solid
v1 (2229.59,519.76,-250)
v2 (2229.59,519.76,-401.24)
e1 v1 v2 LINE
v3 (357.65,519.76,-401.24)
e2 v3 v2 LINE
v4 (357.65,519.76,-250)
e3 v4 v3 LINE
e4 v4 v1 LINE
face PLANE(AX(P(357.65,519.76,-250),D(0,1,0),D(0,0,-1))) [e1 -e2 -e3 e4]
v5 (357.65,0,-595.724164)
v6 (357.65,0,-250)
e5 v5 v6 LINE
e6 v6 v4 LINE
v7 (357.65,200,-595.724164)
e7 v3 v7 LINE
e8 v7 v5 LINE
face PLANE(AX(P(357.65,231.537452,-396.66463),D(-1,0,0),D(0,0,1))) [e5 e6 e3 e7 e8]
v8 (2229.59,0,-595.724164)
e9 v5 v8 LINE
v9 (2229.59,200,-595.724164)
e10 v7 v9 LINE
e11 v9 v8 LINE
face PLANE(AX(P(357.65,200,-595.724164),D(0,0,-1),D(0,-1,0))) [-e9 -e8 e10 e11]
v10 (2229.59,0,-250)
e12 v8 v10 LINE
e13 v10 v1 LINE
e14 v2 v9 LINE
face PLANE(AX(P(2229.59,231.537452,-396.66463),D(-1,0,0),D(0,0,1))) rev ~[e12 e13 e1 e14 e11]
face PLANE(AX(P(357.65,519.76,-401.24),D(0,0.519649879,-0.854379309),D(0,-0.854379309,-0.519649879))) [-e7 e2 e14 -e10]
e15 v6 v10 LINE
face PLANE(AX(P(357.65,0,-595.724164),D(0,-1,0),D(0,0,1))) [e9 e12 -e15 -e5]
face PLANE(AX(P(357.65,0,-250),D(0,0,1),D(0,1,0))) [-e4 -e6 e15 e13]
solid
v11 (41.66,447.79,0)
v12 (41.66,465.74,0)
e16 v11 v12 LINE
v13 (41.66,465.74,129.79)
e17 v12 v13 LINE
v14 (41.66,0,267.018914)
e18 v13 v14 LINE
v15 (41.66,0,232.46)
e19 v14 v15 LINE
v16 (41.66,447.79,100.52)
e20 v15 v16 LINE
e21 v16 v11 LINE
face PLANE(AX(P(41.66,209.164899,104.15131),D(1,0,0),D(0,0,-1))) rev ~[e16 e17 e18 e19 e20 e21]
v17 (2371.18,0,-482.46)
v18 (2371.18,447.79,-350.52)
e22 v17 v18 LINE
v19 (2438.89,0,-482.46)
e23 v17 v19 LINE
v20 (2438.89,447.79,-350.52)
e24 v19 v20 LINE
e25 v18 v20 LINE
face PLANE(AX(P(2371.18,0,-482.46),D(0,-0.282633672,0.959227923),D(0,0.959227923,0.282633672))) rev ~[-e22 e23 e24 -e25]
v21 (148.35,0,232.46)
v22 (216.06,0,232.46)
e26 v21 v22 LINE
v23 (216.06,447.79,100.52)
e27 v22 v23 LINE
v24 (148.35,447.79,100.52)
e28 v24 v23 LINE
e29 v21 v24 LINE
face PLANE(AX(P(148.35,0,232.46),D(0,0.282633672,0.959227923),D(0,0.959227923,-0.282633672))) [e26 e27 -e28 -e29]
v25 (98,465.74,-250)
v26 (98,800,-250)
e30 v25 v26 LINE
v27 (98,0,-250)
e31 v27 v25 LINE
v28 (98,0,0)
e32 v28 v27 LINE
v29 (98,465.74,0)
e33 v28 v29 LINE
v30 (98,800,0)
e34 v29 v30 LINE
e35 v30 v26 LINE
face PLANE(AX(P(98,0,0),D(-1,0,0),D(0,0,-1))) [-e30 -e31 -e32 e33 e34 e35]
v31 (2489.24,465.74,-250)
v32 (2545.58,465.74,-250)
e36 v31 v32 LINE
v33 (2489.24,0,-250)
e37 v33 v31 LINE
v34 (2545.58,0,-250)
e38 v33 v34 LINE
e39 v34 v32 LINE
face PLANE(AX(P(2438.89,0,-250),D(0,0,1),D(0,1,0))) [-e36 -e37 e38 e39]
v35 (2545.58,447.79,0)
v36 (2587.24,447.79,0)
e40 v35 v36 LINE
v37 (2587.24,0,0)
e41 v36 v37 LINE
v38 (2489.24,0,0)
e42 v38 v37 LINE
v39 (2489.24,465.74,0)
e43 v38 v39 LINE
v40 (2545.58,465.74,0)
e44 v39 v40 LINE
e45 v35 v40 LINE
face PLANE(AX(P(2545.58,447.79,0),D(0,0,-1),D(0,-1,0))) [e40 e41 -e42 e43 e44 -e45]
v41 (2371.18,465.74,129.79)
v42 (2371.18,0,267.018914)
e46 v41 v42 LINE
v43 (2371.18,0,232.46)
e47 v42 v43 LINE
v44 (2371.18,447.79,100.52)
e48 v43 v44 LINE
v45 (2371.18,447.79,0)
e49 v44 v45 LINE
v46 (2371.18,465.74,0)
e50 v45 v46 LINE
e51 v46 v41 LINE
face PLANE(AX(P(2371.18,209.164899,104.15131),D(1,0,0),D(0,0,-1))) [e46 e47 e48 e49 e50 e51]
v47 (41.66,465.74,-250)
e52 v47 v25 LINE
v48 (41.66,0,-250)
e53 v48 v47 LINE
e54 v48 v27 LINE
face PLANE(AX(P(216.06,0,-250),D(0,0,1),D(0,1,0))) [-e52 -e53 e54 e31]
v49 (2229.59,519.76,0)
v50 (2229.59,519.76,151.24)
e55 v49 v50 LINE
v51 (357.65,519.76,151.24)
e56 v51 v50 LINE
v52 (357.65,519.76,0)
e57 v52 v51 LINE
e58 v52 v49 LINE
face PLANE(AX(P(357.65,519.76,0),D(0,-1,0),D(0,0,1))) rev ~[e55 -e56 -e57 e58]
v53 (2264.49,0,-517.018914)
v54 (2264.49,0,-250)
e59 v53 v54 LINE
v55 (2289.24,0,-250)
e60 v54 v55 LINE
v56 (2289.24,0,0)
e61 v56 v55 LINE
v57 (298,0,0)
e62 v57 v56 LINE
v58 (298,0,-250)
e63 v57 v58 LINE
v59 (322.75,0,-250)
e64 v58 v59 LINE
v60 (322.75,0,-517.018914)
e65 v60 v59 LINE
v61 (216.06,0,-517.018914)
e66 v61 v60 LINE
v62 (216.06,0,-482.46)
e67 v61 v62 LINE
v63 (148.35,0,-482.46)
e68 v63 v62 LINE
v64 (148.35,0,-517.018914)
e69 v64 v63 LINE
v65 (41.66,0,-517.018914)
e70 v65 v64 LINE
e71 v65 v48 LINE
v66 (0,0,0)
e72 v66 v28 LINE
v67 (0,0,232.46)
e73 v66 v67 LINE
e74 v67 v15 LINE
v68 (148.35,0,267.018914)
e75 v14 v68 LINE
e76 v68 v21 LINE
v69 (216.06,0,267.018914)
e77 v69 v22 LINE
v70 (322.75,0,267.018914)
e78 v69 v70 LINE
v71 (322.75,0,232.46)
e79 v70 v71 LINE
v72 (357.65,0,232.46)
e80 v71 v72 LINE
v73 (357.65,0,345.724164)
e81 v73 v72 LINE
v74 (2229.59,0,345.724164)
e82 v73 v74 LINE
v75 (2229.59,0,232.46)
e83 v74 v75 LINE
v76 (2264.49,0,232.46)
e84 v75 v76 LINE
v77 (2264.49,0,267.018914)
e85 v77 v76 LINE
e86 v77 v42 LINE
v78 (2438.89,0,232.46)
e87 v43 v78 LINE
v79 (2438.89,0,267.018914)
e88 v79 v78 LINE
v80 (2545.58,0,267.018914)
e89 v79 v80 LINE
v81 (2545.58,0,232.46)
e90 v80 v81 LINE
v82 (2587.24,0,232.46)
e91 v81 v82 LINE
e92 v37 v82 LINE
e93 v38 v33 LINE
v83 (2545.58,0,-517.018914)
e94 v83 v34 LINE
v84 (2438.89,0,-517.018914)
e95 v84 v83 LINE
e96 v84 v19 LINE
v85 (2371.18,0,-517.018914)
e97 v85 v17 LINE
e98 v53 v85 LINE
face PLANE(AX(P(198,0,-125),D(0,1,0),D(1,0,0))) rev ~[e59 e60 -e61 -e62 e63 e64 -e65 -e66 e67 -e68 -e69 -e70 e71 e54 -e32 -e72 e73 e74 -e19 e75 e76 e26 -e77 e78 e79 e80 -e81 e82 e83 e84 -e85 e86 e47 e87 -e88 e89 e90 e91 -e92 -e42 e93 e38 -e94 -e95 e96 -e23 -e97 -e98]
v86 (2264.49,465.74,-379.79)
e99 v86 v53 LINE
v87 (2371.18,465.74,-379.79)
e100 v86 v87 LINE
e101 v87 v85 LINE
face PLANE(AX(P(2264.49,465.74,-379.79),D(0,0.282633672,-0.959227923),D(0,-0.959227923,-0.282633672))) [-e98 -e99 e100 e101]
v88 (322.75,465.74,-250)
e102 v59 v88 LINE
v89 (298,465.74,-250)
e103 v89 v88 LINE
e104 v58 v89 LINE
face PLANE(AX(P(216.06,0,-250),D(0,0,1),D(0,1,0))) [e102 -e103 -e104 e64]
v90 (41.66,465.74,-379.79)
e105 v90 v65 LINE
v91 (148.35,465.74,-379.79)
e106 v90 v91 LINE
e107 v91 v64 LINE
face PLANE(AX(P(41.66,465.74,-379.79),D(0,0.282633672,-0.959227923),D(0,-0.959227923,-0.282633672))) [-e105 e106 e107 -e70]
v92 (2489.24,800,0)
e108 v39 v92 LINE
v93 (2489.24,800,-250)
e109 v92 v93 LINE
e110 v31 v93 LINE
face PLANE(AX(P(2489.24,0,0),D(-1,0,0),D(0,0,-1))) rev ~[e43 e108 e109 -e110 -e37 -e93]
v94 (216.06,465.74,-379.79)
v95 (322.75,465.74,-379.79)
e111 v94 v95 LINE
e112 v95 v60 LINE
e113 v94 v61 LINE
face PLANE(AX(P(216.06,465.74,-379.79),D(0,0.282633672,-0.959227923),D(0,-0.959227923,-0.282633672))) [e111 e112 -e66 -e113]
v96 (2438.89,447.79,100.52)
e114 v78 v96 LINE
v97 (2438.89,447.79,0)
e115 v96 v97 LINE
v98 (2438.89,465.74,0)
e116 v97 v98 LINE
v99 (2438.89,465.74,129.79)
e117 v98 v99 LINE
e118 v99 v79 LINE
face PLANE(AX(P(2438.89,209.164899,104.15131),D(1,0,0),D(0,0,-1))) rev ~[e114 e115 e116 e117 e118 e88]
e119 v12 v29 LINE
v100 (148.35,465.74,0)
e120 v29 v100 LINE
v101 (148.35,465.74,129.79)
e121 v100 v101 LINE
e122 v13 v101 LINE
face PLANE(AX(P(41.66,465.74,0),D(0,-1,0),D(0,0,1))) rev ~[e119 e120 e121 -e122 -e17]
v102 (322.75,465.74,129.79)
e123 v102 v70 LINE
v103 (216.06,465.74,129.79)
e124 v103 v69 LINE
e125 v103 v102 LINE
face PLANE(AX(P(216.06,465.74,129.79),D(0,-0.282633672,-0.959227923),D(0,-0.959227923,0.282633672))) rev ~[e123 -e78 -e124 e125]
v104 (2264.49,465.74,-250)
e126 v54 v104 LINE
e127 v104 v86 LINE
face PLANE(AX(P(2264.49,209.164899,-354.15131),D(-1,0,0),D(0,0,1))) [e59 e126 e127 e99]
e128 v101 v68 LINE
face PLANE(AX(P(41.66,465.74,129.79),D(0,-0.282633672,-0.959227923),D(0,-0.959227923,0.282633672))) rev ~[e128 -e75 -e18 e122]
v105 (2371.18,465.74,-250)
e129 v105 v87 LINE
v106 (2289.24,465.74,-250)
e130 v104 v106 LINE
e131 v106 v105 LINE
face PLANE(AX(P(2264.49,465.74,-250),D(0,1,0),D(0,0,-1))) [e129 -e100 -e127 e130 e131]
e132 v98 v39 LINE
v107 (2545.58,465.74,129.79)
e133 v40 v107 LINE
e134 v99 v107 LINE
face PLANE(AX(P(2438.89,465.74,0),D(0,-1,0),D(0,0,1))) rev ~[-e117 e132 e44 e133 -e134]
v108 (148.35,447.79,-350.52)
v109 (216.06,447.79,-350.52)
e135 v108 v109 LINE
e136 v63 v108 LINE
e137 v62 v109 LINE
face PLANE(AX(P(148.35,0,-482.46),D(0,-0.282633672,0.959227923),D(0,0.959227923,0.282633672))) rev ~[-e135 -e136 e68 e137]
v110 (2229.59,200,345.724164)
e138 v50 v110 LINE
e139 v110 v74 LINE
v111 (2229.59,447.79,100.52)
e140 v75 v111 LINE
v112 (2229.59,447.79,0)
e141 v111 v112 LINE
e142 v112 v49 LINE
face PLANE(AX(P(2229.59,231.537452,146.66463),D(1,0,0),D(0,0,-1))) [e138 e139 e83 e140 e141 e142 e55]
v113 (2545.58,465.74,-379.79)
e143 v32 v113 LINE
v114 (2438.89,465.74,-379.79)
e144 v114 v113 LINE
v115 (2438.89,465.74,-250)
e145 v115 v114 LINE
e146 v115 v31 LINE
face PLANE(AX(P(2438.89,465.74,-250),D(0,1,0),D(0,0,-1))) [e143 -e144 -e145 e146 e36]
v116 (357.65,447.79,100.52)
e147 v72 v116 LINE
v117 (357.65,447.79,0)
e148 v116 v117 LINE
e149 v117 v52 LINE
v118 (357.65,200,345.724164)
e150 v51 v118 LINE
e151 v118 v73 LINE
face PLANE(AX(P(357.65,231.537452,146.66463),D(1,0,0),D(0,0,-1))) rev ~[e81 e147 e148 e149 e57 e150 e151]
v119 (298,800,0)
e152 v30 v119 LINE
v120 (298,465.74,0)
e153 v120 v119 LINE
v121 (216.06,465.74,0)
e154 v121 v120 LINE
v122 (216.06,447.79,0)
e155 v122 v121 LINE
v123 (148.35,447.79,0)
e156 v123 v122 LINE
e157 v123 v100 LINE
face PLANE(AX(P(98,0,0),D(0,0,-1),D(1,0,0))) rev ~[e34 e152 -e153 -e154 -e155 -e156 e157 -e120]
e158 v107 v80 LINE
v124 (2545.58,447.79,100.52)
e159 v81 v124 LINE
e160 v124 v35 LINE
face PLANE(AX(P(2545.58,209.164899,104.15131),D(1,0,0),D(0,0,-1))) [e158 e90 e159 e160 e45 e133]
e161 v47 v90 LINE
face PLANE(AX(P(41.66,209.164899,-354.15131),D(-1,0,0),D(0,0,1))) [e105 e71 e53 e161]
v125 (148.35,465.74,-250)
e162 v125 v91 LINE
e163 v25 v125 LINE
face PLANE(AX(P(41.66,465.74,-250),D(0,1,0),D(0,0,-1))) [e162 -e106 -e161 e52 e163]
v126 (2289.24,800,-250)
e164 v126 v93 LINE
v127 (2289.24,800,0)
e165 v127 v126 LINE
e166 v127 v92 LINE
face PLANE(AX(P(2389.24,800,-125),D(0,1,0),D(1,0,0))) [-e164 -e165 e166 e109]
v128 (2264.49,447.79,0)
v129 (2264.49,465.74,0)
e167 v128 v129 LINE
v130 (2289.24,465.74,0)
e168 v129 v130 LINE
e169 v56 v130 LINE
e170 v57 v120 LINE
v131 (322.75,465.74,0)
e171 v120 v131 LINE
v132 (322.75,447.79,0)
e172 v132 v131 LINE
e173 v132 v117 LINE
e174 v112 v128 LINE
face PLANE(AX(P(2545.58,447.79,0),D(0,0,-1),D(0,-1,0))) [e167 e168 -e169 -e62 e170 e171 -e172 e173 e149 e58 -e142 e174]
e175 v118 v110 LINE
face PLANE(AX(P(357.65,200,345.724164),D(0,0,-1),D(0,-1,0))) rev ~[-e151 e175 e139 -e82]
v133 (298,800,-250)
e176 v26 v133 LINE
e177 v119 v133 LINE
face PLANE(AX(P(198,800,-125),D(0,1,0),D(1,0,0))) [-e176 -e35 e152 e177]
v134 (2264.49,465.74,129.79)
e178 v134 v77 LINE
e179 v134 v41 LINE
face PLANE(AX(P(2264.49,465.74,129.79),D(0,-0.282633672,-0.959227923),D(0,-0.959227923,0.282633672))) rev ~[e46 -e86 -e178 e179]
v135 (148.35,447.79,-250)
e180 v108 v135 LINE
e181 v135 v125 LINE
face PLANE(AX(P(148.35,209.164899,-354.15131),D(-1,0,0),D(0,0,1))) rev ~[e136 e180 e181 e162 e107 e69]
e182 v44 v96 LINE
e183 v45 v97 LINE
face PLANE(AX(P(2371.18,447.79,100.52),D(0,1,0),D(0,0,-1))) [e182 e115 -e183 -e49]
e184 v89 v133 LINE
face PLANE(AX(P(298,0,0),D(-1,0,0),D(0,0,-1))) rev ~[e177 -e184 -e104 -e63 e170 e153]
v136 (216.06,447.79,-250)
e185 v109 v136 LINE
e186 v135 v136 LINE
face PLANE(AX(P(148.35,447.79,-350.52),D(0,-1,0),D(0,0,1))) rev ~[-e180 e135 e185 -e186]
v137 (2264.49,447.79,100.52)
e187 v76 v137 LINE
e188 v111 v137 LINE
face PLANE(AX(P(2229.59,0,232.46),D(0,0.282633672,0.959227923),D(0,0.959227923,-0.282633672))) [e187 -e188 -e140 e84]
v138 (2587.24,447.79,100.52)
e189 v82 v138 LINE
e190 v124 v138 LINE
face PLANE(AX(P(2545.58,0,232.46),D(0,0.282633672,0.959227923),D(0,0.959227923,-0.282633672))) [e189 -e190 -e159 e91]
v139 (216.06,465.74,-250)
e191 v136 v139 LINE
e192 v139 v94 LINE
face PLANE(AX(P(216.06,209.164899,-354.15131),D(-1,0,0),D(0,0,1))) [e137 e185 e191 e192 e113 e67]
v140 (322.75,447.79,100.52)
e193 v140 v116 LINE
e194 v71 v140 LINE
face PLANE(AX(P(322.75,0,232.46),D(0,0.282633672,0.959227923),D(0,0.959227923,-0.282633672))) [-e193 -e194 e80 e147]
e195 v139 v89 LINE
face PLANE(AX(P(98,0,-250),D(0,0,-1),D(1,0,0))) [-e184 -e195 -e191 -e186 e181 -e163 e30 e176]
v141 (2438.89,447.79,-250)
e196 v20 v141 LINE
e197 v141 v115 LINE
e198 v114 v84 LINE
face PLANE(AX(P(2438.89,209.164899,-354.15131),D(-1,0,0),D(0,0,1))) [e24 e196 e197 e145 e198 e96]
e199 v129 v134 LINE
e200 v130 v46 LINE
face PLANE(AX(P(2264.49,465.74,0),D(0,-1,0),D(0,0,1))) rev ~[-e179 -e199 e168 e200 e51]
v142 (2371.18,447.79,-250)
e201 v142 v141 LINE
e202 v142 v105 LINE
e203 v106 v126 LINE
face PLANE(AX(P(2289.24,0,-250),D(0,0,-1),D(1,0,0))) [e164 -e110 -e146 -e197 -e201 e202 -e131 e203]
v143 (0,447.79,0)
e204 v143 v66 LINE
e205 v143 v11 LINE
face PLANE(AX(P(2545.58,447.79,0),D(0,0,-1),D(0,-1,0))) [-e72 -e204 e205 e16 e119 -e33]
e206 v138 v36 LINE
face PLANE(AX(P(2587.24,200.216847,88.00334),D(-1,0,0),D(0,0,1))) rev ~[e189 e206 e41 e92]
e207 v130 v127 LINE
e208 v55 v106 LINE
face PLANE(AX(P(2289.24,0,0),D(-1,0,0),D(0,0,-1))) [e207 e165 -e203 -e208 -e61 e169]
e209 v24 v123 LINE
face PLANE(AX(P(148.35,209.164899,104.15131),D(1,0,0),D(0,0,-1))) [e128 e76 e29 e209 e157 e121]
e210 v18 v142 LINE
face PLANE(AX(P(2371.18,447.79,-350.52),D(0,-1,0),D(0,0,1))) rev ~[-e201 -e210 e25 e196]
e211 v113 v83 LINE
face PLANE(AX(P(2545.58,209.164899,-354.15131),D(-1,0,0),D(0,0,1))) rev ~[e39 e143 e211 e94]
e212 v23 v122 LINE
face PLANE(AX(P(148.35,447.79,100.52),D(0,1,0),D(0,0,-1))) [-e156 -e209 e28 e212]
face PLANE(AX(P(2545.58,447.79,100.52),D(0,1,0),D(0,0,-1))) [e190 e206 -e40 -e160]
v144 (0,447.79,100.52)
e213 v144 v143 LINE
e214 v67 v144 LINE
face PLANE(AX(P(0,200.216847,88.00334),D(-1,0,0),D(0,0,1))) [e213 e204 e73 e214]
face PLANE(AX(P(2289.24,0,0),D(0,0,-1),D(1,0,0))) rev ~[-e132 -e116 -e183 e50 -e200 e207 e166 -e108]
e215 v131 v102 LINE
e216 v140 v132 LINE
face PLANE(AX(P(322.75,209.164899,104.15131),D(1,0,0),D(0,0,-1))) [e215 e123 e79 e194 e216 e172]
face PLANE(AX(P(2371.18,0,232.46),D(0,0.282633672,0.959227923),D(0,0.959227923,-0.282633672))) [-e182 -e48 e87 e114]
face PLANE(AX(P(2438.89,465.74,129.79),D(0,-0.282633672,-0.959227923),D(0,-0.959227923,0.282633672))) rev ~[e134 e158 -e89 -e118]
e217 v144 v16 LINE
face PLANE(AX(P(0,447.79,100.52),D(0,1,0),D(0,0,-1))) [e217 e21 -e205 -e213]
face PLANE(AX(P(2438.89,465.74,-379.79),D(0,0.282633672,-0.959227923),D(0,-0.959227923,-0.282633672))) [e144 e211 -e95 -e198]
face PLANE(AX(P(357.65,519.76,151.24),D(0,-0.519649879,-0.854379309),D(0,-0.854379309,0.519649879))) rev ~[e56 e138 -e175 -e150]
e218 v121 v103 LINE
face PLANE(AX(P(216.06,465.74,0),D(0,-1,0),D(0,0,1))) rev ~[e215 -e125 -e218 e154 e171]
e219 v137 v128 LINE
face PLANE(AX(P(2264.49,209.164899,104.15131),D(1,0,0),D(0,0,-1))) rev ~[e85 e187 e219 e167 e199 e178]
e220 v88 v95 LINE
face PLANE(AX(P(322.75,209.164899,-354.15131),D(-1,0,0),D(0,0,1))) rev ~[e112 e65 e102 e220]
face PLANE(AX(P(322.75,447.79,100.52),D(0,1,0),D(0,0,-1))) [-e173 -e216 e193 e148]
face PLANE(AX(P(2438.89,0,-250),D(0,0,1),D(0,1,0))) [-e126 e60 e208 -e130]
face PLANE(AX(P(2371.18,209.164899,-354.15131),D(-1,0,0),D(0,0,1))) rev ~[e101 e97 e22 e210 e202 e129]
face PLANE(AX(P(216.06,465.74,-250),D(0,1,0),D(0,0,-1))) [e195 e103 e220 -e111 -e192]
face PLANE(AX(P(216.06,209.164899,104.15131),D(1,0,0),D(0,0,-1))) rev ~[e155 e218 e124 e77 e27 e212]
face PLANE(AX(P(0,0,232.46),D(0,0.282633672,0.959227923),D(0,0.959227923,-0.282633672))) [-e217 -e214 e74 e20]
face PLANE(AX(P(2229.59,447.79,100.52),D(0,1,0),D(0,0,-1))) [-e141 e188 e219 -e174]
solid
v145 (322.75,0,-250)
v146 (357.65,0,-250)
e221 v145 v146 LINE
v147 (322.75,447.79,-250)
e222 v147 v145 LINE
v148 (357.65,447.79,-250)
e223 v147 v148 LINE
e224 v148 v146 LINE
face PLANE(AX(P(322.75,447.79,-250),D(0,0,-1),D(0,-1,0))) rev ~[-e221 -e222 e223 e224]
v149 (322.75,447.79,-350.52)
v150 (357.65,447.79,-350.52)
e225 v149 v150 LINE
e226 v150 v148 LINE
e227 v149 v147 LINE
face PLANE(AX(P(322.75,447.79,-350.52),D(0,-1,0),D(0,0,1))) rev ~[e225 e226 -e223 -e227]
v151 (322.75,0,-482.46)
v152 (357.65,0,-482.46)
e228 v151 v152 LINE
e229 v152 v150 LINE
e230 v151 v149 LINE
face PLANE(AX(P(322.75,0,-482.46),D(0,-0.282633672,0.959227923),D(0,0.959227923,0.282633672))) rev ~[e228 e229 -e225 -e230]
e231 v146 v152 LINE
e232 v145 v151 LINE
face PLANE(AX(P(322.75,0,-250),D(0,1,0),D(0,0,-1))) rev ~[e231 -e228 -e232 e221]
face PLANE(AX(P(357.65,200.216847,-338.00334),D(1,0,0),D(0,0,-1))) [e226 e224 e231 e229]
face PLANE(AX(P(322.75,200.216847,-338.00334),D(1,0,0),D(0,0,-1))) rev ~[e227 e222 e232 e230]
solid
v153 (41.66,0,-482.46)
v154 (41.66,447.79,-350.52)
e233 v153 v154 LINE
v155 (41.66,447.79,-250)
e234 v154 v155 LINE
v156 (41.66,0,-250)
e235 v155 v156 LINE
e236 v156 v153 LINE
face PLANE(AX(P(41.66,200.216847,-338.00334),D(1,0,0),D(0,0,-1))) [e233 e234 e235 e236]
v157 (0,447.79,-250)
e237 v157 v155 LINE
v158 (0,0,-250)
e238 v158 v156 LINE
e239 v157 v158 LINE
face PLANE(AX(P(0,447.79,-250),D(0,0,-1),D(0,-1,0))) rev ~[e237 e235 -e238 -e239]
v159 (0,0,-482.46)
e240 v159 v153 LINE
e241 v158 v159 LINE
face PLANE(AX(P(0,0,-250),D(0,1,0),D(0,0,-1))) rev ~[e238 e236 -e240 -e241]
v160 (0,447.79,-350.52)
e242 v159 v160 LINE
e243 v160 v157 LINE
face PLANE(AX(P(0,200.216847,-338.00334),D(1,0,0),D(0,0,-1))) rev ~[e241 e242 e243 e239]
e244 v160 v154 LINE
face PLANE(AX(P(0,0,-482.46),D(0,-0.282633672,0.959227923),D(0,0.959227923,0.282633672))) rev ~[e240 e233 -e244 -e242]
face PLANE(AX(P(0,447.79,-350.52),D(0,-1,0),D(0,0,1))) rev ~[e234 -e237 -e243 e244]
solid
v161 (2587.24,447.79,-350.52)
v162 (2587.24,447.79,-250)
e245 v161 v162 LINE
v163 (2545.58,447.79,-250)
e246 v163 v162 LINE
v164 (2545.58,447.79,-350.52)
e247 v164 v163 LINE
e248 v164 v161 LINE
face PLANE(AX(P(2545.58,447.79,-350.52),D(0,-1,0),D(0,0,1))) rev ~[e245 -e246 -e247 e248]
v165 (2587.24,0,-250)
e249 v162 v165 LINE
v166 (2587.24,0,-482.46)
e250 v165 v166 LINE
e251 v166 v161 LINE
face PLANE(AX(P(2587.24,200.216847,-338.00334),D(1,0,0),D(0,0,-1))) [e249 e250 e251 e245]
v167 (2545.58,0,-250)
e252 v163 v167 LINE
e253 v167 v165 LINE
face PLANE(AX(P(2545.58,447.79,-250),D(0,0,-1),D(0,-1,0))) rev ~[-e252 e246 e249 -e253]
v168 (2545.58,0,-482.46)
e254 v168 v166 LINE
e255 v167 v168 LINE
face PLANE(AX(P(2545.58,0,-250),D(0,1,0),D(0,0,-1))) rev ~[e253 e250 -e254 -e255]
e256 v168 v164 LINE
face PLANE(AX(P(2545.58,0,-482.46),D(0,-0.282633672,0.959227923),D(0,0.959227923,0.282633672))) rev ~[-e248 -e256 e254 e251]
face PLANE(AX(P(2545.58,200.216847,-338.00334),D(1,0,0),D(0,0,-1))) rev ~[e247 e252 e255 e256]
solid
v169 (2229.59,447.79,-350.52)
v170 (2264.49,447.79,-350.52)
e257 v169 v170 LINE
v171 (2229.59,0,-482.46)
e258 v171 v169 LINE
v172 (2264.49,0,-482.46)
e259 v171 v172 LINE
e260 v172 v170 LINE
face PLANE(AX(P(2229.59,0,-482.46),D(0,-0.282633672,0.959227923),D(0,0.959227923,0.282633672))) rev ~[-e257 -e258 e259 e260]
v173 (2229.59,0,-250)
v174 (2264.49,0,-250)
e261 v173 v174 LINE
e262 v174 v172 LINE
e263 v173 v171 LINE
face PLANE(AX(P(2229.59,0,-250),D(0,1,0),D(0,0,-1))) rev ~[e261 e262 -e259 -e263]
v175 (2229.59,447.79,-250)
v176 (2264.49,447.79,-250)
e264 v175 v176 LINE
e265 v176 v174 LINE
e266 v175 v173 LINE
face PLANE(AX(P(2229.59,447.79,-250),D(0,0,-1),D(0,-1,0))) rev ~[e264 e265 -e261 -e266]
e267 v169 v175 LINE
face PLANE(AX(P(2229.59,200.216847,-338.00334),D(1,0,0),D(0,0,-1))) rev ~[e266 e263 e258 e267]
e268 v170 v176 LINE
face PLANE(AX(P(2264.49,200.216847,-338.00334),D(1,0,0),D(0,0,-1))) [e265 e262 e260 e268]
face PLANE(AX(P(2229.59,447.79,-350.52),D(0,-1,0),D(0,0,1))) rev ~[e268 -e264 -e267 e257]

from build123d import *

# Parameters (mm, degrees)
EXTRUDE_1_DEPTH   = 41.66
EXTRUDE_1_2_DEPTH = 41.66
EXTRUDE_2_DEPTH   = 106.69
EXTRUDE_START     = 148.35
EXTRUDE_3_DEPTH   = 67.71
EXTRUDE_START_2   = 174.4
EXTRUDE_4_DEPTH   = 106.69
EXTRUDE_START_3   = 322.75
EXTRUDE_5_DEPTH   = 34.9
EXTRUDE_6_DEPTH   = 1871.94
EXTRUDE_START_4   = 2229.59
EXTRUDE_9_DEPTH   = 34.9
EXTRUDE_START_5   = 2222.83
EXTRUDE_10_DEPTH  = 106.69
EXTRUDE_START_6   = 2371.18
EXTRUDE_11_DEPTH  = 67.71
EXTRUDE_START_7   = 2397.23
EXTRUDE_12_DEPTH  = 106.69
EXTRUDE_START_8   = 2545.58
EXTRUDE_13_DEPTH  = 41.66
SKETCH_4_W        = 200
SKETCH_4_H        = 250
EXTRUDE_14_DEPTH  = 800


with BuildPart() as part:
    # 草图1 → 凸台-拉伸1 (new body)
    with BuildSketch(Plane(origin=(0, 0, 0), x_dir=(0, 0, -1), z_dir=(1, 0, 0))):
        Polygon((0, 0), (-232.46, 0), (-100.52, 447.79), (0, 447.79), align=None)
    extrude(amount=EXTRUDE_1_DEPTH)

    # 草图2 → 凸台-拉伸2 (add)
    with BuildSketch(Plane(origin=(41.66, 0, 0), x_dir=(0, 0, -1), z_dir=(1, 0, 0))):
        Polygon((0, 465.74), (-129.79, 465.74), (-267.018914447, 0), (0, 0), align=None)
        Polygon((250, 0), (250, 465.74), (379.79, 465.74), (517.018914447, 0), align=None)
    extrude(amount=EXTRUDE_2_DEPTH)


with BuildPart() as body_2:
    # 草图1 → Extrude 1 2 (new body)
    with BuildSketch(Plane(origin=(0, 0, 0), x_dir=(0, 0, -1), z_dir=(1, 0, 0))):
        Polygon((250, 447.79), (250, 0), (482.46, 0), (350.52, 447.79), align=None)
    extrude(amount=EXTRUDE_1_2_DEPTH)


with BuildPart() as extrude_2_piece_1:
    # of the separate pieces the step leaves, piece 1, a body of its own (extrude_2_pieces)
    add(part.part.solids().sort_by_distance((0, 0, 0))[0])

    # 草图1<2> → 凸台-拉伸3 (add)
    with BuildSketch(Plane(origin=(0, 0, 0), x_dir=(0, 0, -1), z_dir=(1, 0, 0)).offset(EXTRUDE_START)):
        Polygon((0, 0), (-232.46, 0), (-100.52, 447.79), (0, 447.79), align=None)
        Polygon((250, 447.79), (250, 0), (482.46, 0), (350.52, 447.79), align=None)
    extrude(amount=EXTRUDE_3_DEPTH)


with BuildPart() as extrude_2_piece_2:
    # of the separate pieces the step leaves, piece 2, a body of its own (extrude_2_pieces)
    add(part.part.solids().sort_by_distance((41.66, 0, -250))[0])



with BuildPart() as extrude_3_piece_1:
    # of the separate pieces the step leaves, piece 1, a body of its own (extrude_3_pieces)
    add(extrude_2_piece_1.part.solids().sort_by_distance((0, 0, 0))[0])

    # 草图2<2> → 凸台-拉伸4 (add)
    with BuildSketch(Plane(origin=(41.66, 0, 0), x_dir=(0, 0, -1), z_dir=(1, 0, 0)).offset(EXTRUDE_START_2)):
        Polygon((0, 465.74), (-129.79, 465.74), (-267.018914447, 0), (0, 0), align=None)
        Polygon((250, 0), (250, 465.74), (379.79, 465.74), (517.018914447, 0), align=None)
    extrude(amount=EXTRUDE_4_DEPTH)


with BuildPart() as extrude_3_piece_2:
    # of the separate pieces the step leaves, piece 2, a body of its own (extrude_3_pieces)
    add(extrude_2_piece_1.part.solids().sort_by_distance((148.35, 447.79, -250))[0])


with BuildPart() as extrude_4_piece_1:
    # of the separate pieces the step leaves, piece 1, a body of its own (extrude_4_pieces)
    add(extrude_3_piece_1.part.solids().sort_by_distance((0, 0, 0))[0])

    # 草图1<3> → 凸台-拉伸5 (add)
    with BuildSketch(Plane(origin=(0, 0, 0), x_dir=(0, 0, -1), z_dir=(1, 0, 0)).offset(EXTRUDE_START_3)):
        Polygon((0, 0), (-232.46, 0), (-100.52, 447.79), (0, 447.79), align=None)
        Polygon((250, 447.79), (250, 0), (482.46, 0), (350.52, 447.79), align=None)
    extrude(amount=EXTRUDE_5_DEPTH)


with BuildPart() as extrude_4_piece_2:
    # of the separate pieces the step leaves, piece 2, a body of its own (extrude_4_pieces)
    add(extrude_3_piece_1.part.solids().sort_by_distance((216.06, 0, -250))[0])


with BuildPart() as extrude_5_piece_1:
    # of the separate pieces the step leaves, piece 1, a body of its own (extrude_5_pieces)
    add(extrude_4_piece_1.part.solids().sort_by_distance((0, 0, 0))[0])

    # 草图3 → 凸台-拉伸6 (add)
    with BuildSketch(Plane(origin=(357.65, 0, 0), x_dir=(0, 0, -1), z_dir=(1, 0, 0))):
        Polygon((0, 0), (0, 519.76), (-151.24, 519.76), (-345.72416388, 200), (-345.72416388, 0), align=None)
        Polygon((595.72416388, 0), (250, 0), (250, 519.76), (401.24, 519.76), (595.72416388, 200), align=None)
    extrude(amount=EXTRUDE_6_DEPTH)


with BuildPart() as extrude_5_piece_2:
    # of the separate pieces the step leaves, piece 2, a body of its own (extrude_5_pieces)
    add(extrude_4_piece_1.part.solids().sort_by_distance((322.75, 447.79, -250))[0])


with BuildPart() as extrude_6_piece_1:
    # of the separate pieces the step leaves, piece 1, a body of its own (extrude_6_pieces)
    add(extrude_5_piece_1.part.solids().sort_by_distance((0, 0, 0))[0])

    # 草图1<4> → 凸台-拉伸9 (add)
    with BuildSketch(Plane(origin=(0, 0, 0), x_dir=(0, 0, -1), z_dir=(1, 0, 0)).offset(EXTRUDE_START_4)):
        Polygon((0, 0), (-232.46, 0), (-100.52, 447.79), (0, 447.79), align=None)
        Polygon((250, 447.79), (250, 0), (482.46, 0), (350.52, 447.79), align=None)
    extrude(amount=EXTRUDE_9_DEPTH)


with BuildPart() as extrude_6_piece_2:
    # of the separate pieces the step leaves, piece 2, a body of its own (extrude_6_pieces)
    add(extrude_5_piece_1.part.solids().sort_by_distance((357.65, 0, -595.72416388))[0])


with BuildPart() as extrude_9_piece_1:
    # of the separate pieces the step leaves, piece 1, a body of its own (extrude_9_pieces)
    add(extrude_6_piece_1.part.solids().sort_by_distance((0, 0, 0))[0])

    # 草图2<8> → 凸台-拉伸10 (add)
    with BuildSketch(Plane(origin=(41.66, 0, 0), x_dir=(0, 0, -1), z_dir=(1, 0, 0)).offset(EXTRUDE_START_5)):
        Polygon((0, 465.74), (-129.79, 465.74), (-267.018914447, 0), (0, 0), align=None)
        Polygon((250, 0), (250, 465.74), (379.79, 465.74), (517.018914447, 0), align=None)
    extrude(amount=EXTRUDE_10_DEPTH)


with BuildPart() as extrude_9_piece_2:
    # of the separate pieces the step leaves, piece 2, a body of its own (extrude_9_pieces)
    add(extrude_6_piece_1.part.solids().sort_by_distance((2229.59, 447.79, -250))[0])


with BuildPart() as extrude_10_piece_1:
    # of the separate pieces the step leaves, piece 1, a body of its own (extrude_10_pieces)
    add(extrude_9_piece_1.part.solids().sort_by_distance((0, 0, 0))[0])

    # 草图1<5> → 凸台-拉伸11 (add)
    with BuildSketch(Plane(origin=(0, 0, 0), x_dir=(0, 0, -1), z_dir=(1, 0, 0)).offset(EXTRUDE_START_6)):
        Polygon((0, 0), (-232.46, 0), (-100.52, 447.79), (0, 447.79), align=None)
        Polygon((250, 447.79), (250, 0), (482.46, 0), (350.52, 447.79), align=None)
    extrude(amount=EXTRUDE_11_DEPTH)


with BuildPart() as extrude_10_piece_2:
    # of the separate pieces the step leaves, piece 2, a body of its own (extrude_10_pieces)
    add(extrude_9_piece_1.part.solids().sort_by_distance((2264.49, 0, -250))[0])


with BuildPart() as extrude_11_piece_1:
    # of the separate pieces the step leaves, piece 1, a body of its own (extrude_11_pieces)
    add(extrude_10_piece_1.part.solids().sort_by_distance((0, 0, 0))[0])

    # 草图2<10> → 凸台-拉伸12 (add)
    with BuildSketch(Plane(origin=(41.66, 0, 0), x_dir=(0, 0, -1), z_dir=(1, 0, 0)).offset(EXTRUDE_START_7)):
        Polygon((0, 465.74), (-129.79, 465.74), (-267.018914447, 0), (0, 0), align=None)
        Polygon((250, 0), (250, 465.74), (379.79, 465.74), (517.018914447, 0), align=None)
    extrude(amount=EXTRUDE_12_DEPTH)


with BuildPart() as extrude_11_piece_2:
    # of the separate pieces the step leaves, piece 2, a body of its own (extrude_11_pieces)
    add(extrude_10_piece_1.part.solids().sort_by_distance((2371.18, 447.79, -250))[0])


with BuildPart() as extrude_12_piece_1:
    # of the separate pieces the step leaves, piece 1, a body of its own (extrude_12_pieces)
    add(extrude_11_piece_1.part.solids().sort_by_distance((0, 0, 0))[0])

    # 草图1<6> → 凸台-拉伸13 (add)
    with BuildSketch(Plane(origin=(0, 0, 0), x_dir=(0, 0, -1), z_dir=(1, 0, 0)).offset(EXTRUDE_START_8)):
        Polygon((0, 0), (-232.46, 0), (-100.52, 447.79), (0, 447.79), align=None)
        Polygon((250, 447.79), (250, 0), (482.46, 0), (350.52, 447.79), align=None)
    extrude(amount=EXTRUDE_13_DEPTH)


with BuildPart() as extrude_12_piece_2:
    # of the separate pieces the step leaves, piece 2, a body of its own (extrude_12_pieces)
    add(extrude_11_piece_1.part.solids().sort_by_distance((2438.89, 0, -250))[0])


with BuildPart() as extrude_13_piece_1:
    # of the separate pieces the step leaves, piece 1, a body of its own (extrude_13_pieces)
    add(extrude_12_piece_1.part.solids().sort_by_distance((0, 0, 0))[0])


with BuildPart() as extrude_13_piece_2:
    # of the separate pieces the step leaves, piece 2, a body of its own (extrude_13_pieces)
    add(extrude_12_piece_1.part.solids().sort_by_distance((2545.58, 447.79, -250))[0])


with BuildPart() as extrude_2_piece_2_1:
    add(extrude_2_piece_2.part)

    add(extrude_3_piece_2.part)  # 凸台-拉伸14 merges 凸台-拉伸3 piece 2

    add(extrude_4_piece_2.part)  # 凸台-拉伸14 merges 凸台-拉伸4 piece 2

    add(extrude_10_piece_2.part)  # 凸台-拉伸14 merges 凸台-拉伸10 piece 2

    add(extrude_11_piece_2.part)  # 凸台-拉伸14 merges 凸台-拉伸11 piece 2

    add(extrude_12_piece_2.part)  # 凸台-拉伸14 merges 凸台-拉伸12 piece 2

    add(extrude_13_piece_1.part)  # 凸台-拉伸14 merges 凸台-拉伸13 piece 1
    # 草图4 → 凸台-拉伸14 (add)
    with BuildSketch(Plane(origin=(0, 0, 0), x_dir=(1, 0, 0), z_dir=(0, 1, 0))):
        with Locations((198, 125)):
            Rectangle(SKETCH_4_W, SKETCH_4_H)
        with Locations((2389.24, 125)):
            Rectangle(SKETCH_4_W, SKETCH_4_H)
    extrude(amount=EXTRUDE_14_DEPTH)


solid = Compound([body_2.part, extrude_5_piece_2.part, extrude_6_piece_2.part, extrude_9_piece_2.part, extrude_13_piece_2.part, extrude_2_piece_2_1.part])
